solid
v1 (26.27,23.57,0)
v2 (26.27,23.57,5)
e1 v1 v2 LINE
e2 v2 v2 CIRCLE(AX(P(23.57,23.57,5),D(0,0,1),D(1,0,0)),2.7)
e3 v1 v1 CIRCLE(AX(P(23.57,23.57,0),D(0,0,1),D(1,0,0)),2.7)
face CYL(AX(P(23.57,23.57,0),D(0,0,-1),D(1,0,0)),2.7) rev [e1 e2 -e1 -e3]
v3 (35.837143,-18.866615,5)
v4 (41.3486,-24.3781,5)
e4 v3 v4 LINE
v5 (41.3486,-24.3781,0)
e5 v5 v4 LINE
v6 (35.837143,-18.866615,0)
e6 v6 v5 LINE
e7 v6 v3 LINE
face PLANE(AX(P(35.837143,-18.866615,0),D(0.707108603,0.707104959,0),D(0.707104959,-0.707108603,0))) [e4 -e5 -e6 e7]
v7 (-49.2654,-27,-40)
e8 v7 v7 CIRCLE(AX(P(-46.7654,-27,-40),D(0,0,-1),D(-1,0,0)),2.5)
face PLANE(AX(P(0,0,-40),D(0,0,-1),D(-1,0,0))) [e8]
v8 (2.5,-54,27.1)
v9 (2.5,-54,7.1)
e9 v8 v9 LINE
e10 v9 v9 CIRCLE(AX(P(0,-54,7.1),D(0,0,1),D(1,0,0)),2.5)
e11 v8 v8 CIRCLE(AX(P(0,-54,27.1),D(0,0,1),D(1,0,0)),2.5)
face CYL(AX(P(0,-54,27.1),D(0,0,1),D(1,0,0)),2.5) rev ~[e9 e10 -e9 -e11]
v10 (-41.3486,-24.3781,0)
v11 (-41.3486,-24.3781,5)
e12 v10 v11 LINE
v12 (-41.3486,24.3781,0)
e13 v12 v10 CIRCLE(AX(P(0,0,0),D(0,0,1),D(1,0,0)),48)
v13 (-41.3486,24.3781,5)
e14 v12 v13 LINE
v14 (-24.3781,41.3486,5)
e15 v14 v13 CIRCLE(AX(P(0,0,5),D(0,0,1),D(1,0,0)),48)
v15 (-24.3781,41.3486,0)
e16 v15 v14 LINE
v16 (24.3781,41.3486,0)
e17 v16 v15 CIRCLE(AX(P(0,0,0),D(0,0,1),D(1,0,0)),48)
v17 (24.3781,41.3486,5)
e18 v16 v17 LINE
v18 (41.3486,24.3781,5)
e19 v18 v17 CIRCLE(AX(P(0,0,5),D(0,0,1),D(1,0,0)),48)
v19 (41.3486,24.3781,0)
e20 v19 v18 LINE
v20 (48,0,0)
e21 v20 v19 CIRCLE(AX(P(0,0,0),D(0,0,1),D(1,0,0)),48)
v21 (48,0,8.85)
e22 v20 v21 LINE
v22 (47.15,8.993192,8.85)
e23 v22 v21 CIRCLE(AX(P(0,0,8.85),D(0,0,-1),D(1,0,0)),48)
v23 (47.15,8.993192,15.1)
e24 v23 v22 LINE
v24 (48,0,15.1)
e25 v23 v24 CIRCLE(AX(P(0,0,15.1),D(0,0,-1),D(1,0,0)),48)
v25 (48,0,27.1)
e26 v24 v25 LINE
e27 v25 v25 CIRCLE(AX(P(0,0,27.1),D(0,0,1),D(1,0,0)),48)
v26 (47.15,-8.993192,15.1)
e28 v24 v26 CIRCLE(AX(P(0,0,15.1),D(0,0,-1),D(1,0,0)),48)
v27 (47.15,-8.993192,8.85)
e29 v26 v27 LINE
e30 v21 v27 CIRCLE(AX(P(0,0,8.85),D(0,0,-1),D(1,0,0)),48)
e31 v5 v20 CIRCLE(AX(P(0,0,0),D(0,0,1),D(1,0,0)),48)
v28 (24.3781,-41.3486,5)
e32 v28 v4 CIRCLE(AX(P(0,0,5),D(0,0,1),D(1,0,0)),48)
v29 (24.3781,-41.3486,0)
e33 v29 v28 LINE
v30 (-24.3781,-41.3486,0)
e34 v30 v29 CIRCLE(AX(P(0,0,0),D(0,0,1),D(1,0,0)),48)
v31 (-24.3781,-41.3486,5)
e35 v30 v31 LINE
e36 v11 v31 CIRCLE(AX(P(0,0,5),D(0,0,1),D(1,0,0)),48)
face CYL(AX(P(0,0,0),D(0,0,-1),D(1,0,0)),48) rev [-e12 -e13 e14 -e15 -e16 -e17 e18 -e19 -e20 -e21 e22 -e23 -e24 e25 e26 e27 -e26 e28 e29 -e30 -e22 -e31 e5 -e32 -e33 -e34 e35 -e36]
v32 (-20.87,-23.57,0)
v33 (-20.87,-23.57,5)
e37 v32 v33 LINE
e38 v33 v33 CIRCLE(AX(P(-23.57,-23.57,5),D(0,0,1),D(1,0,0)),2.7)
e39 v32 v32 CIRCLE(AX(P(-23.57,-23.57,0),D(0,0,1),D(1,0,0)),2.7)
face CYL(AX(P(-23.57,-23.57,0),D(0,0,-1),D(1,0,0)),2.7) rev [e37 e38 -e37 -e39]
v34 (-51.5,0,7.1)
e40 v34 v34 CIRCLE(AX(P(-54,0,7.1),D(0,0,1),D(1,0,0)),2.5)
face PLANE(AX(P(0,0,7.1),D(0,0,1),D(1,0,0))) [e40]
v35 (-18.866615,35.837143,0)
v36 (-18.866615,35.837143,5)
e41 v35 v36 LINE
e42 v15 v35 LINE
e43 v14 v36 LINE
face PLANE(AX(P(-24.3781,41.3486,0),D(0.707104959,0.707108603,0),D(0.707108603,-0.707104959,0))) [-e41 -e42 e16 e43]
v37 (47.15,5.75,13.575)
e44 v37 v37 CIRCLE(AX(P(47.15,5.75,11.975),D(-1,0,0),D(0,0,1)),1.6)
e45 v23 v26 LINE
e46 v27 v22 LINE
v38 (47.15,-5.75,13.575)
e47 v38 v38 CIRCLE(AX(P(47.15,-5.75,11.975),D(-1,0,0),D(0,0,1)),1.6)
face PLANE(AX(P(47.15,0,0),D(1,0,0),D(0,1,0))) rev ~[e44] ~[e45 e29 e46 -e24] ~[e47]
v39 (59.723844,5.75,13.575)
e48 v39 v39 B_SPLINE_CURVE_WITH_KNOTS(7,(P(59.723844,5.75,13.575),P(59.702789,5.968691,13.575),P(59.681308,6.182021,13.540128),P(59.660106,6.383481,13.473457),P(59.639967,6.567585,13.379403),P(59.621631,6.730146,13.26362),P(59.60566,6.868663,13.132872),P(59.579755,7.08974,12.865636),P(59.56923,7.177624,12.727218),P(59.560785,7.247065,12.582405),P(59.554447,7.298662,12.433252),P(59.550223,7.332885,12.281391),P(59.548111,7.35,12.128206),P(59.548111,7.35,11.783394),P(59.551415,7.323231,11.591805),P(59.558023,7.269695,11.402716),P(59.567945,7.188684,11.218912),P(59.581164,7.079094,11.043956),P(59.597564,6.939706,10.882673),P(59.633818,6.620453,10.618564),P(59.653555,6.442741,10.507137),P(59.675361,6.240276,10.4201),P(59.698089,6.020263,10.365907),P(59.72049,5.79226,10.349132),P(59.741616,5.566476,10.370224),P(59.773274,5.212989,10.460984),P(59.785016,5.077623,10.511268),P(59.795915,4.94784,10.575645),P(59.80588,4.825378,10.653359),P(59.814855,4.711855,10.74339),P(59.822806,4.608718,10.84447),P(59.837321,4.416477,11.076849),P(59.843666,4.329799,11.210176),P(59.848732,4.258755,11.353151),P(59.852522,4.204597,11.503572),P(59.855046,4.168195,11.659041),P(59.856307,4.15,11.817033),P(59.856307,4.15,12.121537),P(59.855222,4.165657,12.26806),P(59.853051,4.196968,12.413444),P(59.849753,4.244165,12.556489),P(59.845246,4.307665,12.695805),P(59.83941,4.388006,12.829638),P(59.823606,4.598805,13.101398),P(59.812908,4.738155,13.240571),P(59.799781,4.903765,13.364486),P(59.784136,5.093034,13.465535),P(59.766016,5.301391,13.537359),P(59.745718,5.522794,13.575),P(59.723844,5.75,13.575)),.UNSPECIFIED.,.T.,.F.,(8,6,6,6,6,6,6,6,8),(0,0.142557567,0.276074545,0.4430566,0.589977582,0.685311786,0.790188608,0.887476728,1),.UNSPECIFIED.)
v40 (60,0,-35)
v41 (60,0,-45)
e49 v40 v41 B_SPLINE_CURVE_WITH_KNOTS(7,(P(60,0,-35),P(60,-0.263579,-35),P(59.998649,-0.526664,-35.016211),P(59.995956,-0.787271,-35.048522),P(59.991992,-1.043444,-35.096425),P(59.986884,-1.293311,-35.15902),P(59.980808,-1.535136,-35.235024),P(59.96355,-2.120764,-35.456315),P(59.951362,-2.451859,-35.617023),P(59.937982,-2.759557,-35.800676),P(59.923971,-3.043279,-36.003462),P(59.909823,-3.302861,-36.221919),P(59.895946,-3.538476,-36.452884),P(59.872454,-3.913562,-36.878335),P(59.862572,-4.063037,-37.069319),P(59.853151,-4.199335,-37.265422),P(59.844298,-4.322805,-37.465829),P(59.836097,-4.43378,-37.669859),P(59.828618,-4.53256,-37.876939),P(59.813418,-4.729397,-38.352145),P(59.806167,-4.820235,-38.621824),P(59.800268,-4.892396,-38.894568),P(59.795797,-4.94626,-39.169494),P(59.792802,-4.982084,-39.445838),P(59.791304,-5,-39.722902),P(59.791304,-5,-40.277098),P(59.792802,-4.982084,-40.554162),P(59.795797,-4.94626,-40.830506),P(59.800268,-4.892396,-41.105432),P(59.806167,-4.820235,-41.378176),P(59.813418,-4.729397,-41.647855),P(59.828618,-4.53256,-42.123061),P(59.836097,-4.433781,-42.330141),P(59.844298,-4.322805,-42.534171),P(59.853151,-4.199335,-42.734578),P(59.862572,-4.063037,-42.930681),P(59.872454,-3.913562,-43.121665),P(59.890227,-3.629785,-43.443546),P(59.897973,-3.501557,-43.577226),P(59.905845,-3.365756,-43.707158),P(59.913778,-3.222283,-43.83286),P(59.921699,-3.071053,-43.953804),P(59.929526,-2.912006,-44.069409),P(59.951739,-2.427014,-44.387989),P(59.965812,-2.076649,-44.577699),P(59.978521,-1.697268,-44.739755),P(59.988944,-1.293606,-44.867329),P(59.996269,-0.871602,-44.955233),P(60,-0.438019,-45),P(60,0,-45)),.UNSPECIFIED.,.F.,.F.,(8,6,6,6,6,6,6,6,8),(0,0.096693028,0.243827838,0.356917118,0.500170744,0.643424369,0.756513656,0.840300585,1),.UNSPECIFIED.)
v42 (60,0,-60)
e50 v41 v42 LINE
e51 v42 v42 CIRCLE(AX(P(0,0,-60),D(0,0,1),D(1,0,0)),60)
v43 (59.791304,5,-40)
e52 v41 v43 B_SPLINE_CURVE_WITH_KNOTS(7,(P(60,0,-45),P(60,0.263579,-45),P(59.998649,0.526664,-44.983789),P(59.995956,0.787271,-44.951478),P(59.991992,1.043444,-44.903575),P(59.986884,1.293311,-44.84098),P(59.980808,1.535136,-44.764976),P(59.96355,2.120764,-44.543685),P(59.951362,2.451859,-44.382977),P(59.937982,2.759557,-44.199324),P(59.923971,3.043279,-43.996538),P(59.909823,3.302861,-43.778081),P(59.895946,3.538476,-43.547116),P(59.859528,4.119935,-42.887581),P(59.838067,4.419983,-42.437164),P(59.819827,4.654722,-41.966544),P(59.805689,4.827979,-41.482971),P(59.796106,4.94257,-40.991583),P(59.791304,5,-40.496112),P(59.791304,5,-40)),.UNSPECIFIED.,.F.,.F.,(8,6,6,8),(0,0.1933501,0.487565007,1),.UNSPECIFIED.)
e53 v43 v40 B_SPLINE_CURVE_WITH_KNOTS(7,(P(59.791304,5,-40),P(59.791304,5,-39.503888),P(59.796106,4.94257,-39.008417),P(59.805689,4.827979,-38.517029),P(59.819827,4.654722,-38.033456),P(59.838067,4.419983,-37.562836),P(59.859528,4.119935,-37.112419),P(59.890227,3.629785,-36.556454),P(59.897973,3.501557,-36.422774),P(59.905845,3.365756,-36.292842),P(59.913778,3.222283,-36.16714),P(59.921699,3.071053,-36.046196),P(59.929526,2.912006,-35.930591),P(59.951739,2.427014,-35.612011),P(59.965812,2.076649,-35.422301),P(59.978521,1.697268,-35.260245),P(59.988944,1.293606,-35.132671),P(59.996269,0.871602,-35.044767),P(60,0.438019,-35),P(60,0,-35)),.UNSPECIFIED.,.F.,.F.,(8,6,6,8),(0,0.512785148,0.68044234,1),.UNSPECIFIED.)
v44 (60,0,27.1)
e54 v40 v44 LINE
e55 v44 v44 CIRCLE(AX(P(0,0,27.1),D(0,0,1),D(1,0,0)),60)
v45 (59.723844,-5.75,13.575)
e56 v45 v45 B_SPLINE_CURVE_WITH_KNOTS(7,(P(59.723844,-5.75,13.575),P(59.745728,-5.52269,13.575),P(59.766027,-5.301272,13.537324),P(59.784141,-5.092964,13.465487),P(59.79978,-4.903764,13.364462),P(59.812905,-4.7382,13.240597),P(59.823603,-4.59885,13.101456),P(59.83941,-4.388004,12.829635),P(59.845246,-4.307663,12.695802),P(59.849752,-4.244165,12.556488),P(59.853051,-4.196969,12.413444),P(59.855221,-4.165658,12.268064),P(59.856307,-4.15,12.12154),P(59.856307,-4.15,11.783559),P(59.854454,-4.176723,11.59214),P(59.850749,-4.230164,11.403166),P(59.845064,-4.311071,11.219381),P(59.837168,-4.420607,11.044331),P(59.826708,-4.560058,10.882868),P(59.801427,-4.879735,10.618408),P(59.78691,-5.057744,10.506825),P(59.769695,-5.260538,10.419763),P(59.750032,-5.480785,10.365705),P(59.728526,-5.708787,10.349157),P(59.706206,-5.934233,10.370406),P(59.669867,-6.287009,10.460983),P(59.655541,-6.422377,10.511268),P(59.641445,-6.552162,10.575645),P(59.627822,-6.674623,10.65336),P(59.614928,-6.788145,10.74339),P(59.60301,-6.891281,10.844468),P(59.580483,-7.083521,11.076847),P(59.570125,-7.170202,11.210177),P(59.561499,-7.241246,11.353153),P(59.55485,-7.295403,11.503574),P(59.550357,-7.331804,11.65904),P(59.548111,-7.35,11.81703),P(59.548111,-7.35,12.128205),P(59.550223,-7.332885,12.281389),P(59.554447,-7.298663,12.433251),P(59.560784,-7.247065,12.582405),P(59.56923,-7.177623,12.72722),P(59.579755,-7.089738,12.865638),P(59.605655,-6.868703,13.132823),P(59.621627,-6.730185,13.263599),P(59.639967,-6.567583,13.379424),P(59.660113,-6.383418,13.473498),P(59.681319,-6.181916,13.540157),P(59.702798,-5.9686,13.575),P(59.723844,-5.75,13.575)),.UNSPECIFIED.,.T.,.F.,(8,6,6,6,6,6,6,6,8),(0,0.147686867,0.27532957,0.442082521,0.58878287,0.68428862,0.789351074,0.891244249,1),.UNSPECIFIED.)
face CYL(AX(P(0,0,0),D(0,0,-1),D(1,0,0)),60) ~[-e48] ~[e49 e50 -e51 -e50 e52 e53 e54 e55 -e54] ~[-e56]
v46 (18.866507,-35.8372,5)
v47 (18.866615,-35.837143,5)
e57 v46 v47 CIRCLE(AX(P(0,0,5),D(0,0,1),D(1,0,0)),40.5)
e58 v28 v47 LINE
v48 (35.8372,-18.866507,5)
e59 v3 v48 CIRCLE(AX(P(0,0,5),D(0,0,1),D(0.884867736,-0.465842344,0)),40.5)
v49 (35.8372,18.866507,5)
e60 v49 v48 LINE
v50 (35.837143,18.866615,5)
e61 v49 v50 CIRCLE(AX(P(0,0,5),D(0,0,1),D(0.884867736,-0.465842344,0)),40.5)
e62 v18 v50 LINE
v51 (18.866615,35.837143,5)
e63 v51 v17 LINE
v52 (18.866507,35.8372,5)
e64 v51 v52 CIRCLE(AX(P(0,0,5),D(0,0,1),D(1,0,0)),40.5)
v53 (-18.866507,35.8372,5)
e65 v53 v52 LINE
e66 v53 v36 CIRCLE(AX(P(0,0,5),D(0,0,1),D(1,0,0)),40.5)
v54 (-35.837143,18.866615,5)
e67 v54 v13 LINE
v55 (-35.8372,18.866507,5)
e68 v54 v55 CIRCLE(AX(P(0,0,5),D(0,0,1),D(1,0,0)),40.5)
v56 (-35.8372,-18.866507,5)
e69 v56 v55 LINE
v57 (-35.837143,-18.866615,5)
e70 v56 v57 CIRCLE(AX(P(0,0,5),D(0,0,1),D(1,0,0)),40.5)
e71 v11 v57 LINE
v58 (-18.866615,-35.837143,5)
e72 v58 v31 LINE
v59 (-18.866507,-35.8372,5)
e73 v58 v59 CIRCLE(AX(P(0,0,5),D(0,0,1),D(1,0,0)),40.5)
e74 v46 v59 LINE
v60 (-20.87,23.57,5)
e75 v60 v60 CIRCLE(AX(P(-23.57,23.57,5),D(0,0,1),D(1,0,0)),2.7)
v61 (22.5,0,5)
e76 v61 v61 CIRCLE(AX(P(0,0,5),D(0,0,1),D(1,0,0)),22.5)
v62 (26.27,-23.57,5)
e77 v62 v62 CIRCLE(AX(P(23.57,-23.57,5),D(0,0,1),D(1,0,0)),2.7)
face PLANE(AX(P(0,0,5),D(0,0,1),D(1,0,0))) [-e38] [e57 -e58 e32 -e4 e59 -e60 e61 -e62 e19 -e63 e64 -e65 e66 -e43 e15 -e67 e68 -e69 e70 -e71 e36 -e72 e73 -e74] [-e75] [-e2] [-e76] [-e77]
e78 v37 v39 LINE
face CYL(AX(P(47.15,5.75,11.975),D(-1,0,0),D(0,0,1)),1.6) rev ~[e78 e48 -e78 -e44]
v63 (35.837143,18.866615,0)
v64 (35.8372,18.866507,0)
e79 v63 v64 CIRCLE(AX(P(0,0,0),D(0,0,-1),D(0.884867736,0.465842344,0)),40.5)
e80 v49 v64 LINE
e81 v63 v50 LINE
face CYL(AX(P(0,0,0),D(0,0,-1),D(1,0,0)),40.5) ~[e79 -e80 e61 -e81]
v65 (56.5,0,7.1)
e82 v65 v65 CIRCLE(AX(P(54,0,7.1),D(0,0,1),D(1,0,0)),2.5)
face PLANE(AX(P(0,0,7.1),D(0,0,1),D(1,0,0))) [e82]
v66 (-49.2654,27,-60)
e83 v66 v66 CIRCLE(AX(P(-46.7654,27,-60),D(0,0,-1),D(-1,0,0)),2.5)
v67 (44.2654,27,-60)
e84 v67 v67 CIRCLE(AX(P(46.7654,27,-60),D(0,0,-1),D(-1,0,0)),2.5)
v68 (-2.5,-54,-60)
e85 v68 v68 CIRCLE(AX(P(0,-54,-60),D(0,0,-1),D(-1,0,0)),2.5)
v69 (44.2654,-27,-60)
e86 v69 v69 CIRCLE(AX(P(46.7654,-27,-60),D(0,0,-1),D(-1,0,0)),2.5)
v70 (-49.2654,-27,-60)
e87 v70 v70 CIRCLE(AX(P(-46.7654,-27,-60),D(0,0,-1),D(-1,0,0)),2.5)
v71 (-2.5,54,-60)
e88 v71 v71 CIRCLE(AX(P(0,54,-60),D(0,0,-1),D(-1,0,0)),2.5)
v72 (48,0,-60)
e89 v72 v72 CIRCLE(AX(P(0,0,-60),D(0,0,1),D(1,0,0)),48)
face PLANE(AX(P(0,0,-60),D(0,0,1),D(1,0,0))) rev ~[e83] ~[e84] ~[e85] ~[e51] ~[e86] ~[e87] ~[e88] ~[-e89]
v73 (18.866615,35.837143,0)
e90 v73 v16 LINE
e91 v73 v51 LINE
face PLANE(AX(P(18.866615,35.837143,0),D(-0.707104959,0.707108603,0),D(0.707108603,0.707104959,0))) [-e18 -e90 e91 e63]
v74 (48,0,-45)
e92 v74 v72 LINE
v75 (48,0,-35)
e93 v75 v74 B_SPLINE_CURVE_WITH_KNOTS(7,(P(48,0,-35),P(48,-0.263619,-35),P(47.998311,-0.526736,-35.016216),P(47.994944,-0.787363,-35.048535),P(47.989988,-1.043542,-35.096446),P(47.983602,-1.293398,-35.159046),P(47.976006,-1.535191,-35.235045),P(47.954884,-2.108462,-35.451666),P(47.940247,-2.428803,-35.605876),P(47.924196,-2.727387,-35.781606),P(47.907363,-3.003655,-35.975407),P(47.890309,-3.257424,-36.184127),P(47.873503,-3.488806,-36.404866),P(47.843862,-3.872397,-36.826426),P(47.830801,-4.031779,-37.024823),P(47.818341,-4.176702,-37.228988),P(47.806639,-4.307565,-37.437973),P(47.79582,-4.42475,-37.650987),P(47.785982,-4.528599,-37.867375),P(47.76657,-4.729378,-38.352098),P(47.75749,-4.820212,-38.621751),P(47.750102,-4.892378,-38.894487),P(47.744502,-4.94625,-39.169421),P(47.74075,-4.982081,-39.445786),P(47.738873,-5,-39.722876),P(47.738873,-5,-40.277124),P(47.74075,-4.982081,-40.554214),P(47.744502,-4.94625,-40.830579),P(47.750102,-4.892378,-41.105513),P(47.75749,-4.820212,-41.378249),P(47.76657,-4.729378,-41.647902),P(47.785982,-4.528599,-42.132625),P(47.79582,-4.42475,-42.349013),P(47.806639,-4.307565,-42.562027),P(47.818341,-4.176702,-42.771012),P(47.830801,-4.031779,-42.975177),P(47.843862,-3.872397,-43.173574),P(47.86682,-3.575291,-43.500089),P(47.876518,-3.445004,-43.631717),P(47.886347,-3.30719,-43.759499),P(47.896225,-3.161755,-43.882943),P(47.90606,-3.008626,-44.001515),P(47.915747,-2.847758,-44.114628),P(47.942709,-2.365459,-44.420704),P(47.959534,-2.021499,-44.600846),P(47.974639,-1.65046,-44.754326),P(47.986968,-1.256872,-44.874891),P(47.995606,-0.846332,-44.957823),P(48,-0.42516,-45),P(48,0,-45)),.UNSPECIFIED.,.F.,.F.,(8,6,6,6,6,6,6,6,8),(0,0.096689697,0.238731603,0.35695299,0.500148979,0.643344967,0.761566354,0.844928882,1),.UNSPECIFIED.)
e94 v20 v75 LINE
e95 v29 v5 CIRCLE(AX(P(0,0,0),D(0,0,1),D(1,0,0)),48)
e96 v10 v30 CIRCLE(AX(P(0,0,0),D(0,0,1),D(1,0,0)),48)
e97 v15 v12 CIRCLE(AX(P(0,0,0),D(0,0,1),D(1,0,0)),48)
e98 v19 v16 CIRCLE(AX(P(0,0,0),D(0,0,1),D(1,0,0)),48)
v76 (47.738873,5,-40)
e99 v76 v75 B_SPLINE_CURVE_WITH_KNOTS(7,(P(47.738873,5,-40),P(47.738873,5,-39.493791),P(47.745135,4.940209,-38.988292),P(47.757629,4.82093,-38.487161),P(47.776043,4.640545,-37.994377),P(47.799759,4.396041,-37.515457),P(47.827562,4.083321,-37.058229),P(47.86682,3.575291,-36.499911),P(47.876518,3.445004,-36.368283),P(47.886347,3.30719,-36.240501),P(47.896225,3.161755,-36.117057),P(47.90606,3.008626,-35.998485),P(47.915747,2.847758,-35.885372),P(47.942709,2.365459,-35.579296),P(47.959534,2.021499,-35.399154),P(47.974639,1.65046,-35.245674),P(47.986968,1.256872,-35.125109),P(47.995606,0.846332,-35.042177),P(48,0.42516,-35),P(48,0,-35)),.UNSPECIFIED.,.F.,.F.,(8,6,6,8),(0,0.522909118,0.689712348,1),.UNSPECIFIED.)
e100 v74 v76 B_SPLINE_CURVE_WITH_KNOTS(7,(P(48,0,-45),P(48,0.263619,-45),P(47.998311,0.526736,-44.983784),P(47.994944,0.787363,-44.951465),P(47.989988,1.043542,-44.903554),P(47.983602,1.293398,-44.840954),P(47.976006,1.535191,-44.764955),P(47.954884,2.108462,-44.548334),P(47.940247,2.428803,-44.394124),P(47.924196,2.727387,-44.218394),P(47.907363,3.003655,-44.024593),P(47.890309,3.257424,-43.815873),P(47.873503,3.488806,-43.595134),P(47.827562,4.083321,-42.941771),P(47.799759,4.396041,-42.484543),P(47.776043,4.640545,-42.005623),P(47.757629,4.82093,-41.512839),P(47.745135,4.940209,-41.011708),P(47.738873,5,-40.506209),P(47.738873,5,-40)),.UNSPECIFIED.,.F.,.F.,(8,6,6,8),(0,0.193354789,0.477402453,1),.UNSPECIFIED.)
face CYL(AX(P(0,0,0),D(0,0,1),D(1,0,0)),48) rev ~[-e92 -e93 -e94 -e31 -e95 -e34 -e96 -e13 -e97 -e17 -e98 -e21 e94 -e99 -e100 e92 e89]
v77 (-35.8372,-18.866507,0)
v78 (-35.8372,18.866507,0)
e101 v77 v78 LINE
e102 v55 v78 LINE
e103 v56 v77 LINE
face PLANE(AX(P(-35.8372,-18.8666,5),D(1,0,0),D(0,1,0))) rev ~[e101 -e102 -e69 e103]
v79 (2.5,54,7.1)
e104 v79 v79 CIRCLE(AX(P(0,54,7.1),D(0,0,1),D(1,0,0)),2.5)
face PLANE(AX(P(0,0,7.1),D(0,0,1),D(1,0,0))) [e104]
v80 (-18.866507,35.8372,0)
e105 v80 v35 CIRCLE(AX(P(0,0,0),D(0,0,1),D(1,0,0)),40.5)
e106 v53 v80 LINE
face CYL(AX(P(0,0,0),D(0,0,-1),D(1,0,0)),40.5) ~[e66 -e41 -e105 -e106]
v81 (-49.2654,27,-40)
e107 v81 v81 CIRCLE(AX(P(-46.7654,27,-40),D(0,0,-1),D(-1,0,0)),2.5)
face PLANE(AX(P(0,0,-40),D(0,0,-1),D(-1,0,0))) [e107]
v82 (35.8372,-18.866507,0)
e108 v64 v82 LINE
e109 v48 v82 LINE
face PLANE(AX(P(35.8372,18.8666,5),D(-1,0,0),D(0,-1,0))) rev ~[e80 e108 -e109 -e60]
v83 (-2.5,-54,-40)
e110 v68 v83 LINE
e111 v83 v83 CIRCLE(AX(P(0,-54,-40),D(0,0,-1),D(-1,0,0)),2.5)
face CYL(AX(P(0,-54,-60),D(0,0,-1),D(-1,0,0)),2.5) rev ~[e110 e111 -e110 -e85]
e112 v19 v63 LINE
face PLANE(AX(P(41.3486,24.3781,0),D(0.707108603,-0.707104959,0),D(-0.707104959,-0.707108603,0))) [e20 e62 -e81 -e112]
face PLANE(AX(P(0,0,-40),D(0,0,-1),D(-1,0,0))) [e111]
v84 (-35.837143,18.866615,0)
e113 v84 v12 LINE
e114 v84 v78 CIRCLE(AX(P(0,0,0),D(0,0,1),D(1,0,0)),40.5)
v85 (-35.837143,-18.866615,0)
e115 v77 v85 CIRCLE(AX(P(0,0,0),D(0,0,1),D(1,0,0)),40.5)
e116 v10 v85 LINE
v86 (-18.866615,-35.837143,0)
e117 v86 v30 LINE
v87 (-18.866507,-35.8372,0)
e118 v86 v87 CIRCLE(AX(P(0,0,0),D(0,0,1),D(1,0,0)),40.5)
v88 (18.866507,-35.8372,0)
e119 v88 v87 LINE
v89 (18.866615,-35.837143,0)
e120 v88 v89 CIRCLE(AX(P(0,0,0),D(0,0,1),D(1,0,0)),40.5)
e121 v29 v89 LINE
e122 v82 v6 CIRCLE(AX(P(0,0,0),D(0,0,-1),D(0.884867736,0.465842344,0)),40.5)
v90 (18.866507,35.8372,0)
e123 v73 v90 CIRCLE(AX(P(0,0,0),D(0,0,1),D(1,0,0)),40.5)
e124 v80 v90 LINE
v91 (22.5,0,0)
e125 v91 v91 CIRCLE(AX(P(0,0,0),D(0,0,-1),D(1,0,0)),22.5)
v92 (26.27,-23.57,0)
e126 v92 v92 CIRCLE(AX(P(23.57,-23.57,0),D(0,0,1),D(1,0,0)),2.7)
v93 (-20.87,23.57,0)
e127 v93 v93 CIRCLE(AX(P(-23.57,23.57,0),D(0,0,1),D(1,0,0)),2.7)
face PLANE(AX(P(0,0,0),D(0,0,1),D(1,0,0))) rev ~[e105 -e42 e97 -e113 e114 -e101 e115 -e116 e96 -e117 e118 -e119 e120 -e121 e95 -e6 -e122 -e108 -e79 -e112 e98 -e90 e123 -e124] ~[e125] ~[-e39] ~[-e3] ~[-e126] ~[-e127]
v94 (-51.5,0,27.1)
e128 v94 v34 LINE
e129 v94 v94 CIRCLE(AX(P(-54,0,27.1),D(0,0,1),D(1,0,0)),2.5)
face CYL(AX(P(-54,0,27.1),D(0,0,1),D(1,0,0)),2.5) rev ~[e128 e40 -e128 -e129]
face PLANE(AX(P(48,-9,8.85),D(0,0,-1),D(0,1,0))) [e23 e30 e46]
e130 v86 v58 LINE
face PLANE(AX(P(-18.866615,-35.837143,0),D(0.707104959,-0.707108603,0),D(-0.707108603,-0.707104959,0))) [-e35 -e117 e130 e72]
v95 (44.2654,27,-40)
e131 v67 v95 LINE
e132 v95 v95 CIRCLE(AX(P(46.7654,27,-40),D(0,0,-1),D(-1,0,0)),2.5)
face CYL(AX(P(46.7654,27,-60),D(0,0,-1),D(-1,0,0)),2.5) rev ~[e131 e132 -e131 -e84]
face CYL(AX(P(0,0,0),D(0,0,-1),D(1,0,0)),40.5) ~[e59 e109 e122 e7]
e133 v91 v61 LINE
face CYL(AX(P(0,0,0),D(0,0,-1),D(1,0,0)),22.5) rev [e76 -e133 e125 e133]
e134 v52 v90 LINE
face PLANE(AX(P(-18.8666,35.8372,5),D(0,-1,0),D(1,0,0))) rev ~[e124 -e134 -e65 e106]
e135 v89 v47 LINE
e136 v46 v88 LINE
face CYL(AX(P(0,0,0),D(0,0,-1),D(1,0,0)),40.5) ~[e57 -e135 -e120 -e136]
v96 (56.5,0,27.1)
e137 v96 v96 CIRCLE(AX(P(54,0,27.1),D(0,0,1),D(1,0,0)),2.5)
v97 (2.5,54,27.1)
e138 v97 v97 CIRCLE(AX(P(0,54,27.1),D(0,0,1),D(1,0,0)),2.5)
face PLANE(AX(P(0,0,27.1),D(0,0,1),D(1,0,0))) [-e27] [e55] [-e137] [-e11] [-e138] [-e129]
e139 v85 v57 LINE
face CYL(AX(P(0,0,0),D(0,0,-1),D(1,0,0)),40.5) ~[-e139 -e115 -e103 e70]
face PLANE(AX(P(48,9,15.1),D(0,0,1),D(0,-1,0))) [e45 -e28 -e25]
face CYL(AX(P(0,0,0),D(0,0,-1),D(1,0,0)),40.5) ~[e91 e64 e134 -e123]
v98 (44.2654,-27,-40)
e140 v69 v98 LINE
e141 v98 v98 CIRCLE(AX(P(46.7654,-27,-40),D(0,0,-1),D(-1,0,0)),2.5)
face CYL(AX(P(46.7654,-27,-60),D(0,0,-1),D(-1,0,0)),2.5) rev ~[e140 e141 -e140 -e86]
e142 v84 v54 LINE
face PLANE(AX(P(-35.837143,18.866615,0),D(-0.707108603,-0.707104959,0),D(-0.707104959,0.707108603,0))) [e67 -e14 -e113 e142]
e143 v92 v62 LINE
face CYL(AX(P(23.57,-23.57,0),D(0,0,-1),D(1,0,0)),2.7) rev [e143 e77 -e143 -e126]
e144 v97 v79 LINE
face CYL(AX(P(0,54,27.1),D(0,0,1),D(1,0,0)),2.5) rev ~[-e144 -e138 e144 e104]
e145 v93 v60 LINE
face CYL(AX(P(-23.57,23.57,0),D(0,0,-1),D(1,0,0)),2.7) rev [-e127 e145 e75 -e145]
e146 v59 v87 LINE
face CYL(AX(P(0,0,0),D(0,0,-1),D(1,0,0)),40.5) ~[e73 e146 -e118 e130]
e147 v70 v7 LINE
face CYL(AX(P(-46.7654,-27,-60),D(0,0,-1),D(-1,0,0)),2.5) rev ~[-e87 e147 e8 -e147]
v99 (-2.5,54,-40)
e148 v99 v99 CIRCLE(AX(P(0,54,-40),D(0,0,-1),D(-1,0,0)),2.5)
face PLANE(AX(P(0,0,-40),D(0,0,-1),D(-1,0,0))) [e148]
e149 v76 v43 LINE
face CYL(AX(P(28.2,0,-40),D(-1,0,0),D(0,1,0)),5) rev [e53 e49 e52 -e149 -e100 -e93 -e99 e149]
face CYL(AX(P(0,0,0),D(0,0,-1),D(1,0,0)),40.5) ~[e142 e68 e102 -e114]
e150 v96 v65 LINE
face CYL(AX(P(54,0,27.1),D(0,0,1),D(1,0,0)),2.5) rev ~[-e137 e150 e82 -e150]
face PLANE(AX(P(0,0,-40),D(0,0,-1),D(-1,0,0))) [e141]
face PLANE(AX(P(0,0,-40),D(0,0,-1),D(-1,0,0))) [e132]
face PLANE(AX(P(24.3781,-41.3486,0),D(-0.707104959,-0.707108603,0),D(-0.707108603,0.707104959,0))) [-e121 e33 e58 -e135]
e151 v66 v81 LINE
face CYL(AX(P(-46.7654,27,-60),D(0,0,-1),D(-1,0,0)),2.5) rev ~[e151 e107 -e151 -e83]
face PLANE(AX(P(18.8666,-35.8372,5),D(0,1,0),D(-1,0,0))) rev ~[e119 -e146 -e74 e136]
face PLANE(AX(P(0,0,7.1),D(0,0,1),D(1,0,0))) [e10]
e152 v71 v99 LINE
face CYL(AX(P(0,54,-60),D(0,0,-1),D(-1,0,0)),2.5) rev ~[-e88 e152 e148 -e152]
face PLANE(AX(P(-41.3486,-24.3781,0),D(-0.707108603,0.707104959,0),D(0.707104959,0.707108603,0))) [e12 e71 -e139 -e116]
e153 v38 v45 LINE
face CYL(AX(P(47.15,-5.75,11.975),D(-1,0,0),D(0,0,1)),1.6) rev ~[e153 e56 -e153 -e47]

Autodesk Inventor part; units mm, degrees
sketch "草圖1" plane through (0, 0, 0) normal (0, 0, 1) x (1, 0, 0)
  circle A0 centre (0, 0) radius 60
  circle A1 centre (0, 0) radius 48
  dimension "d0" = 120
  dimension "d1" = 96
extrude "擠出1" add sketch "草圖1" along normal blind 27.1 and the other way blind 60
sketch "草圖2" plane through (0, 0, 27.1) normal (0, 0, 1) x (1, 0, 0)
  circle A0 centre (0, 0) radius 54 construction
  circle A1 centre (0, 54) radius 2.5
  circle A2 centre (-54, 0) radius 2.5
  circle A3 centre (0, -54) radius 2.5
  circle A4 centre (54, 0) radius 2.5
  dimension "d6" = 108
  dimension "d7" = 5
  dimension "d10" = 360
extrude "擠出2" cut sketch "草圖2" against normal blind 20
ref_plane "工作平面1" through (0, 0, 0) normal (0, 0, 1) x (1, 0, 0)
sketch "草圖3" plane through (0, 0, 0) normal (0, 0, 1) x (1, 0, 0)
  circle A0 centre (-23.57, 23.57) radius 2.3 projected
  circle A1 centre (23.57, 23.57) radius 2.3 projected
  circle A2 centre (23.57, -23.57) radius 2.3 projected
  circle A3 centre (-23.57, -23.57) radius 2.3 projected
  circle A4 centre (-23.57, 23.57) radius 2.7
  circle A5 centre (23.57, 23.57) radius 2.7
  circle A6 centre (23.57, -23.57) radius 2.7
  circle A7 centre (-23.57, -23.57) radius 2.7
  circle A8 centre (0, 0) radius 22.5
  line L0 (-21.9436, 4.973) -> (-41.3486, 24.3781)
  circle A9 centre (0, 0) radius 48 projected
  line L1 (-24.3781, 41.3486) -> (-4.973, 21.9436)
  line L2 (-23.57, 23.57) -> (0, 0) construction
  circle A10 centre (0, 0) radius 40.5
  line L3 (-41.3486, -24.3781) -> (-21.9436, -4.973)
  line L4 (-4.973, -21.9436) -> (-24.3781, -41.3486)
  line L5 (24.3781, -41.3486) -> (4.973, -21.9436)
  line L6 (21.9436, -4.973) -> (41.3486, -24.3781)
  line L7 (41.3486, 24.3781) -> (21.9436, 4.973)
  line L8 (4.973, 21.9436) -> (24.3781, 41.3486)
  point P0 (-18.8666, 35.8372)
  point P1 (-35.8372, 18.8666)
  point P2 (-35.8372, -18.8666)
  point P3 (-24.3781, -41.3486)
  point P4 (-18.8666, -35.8372)
  point P5 (18.8666, -35.8372)
  point P6 (24.3781, -41.3486)
  point P7 (41.3486, -24.3781)
  point P8 (35.8372, -18.8666)
  point P9 (35.8372, 18.8666)
  point P10 (41.3486, 24.3781)
  point P11 (24.3781, 41.3486)
  point P12 (18.8666, 35.8372)
  dimension "d14" = 5.4
  dimension "d15" = 5.4
  dimension "d16" = 5.4
  dimension "d17" = 5.4
  dimension "d18" = 45
  dimension "d19" = 24
  dimension "d20" = 12
  dimension "d21" = 18
  dimension "d24" = 360
extrude "擠出3" add sketch "草圖3" along normal blind 5 contours A8 L7 A10 L6 | A8 L8 A10 L7 | L6 A10 L5 A8 | A8 L1 A10 L8 | A10 L8 A9 L7 | L5 A10 L4 A8 | L6 A9 L5 A10 | A8 L0 A10 L1 | L4 A10 L3 A8 | A8 L3 A10 L0 | A10 L0 A9 L1 | L4 A9 L3 A10
sketch "草圖4" plane through (0, 0, -60) normal (0, 0, -1) x (-1, 0, 0)
  circle A0 centre (0, 0) radius 54 construction
  circle A1 centre (0, -54) radius 2.5
  circle A2 centre (46.7654, -27) radius 2.5
  circle A3 centre (46.7654, 27) radius 2.5
  circle A4 centre (0, 54) radius 2.5
  circle A5 centre (-46.7654, 27) radius 2.5
  circle A6 centre (-46.7654, -27) radius 2.5
  dimension "d29" = 108
  dimension "d32" = 360
  dimension "d62" = 5
extrude "擠出4" cut sketch "草圖4" against normal blind 20
ref_plane "工作平面2" through (28.2, -16.65, -54) normal (1, 0, 0) x (0, 1, 0)
sketch "草圖5" plane through (28.2, -16.65, -54) normal (1, 0, 0) x (0, 1, 0)
  circle A0 centre (16.65, 14) radius 5
  line L0 (-43.35, -6) -> (76.65, -6) projected
  point P0 (16.65, 54)
  dimension "d36" = 10
  dimension "d37" = 20
extrude "擠出5" cut sketch "草圖5" along normal through all
ref_plane "工作平面3" through (48, 0, 0) normal (1, 0, 0) x (0, 1, 0)
sketch "草圖7" plane through (48, 0, 0) normal (1, 0, 0) x (0, 1, 0)
  line L0 (9, 15.1) -> (-9, 15.1)
  line L1 (-9, 15.1) -> (-9, 8.85)
  line L2 (-9, 8.85) -> (9, 8.85)
  line L3 (9, 8.85) -> (9, 15.1)
  line L4 (-48, 27.1) -> (48, 27.1) projected
  point P0 (0, 0)
  dimension "d45" = 18
  dimension "d46" = 9
  dimension "d47" = 6.25
  dimension "d48" = 12
extrude "擠出6" add sketch "草圖7" against normal blind 0.85
sketch "草圖8" plane through (47.15, 0, 0) normal (-1, 0, 0) x (0, 0, 1)
  line L0 (15.1, -8.9932) -> (8.85, -8.9932) projected
  line L1 (15.1, -8.9932) -> (15.1, 8.9932) projected
  line L2 (8.85, 8.9932) -> (15.1, 8.9932) projected
  line L3 (8.85, 8.9932) -> (8.85, -8.9932) projected
  line L4 (15.1, 0) -> (8.85, 0)
  circle A0 centre (11.975, 5.75) radius 1.6
  circle A1 centre (11.975, -5.75) radius 1.6
  point P0 (0, 0)
  point P1 (11.975, 8.9932)
  dimension "d52" = 3.2
  dimension "d53" = 5.75
extrude "擠出7" cut sketch "草圖8" against normal through all contours A0 | A1
sketch "草圖9" plane through (0, 0, 5) normal (0, 0, 1) x (1, 0, 0)
  line L0 (-24.3781, -41.3486) -> (-18.8666, -35.8372) projected
  arc A0 (-18.8666, -35.8372) -> (18.8666, -35.8372) centre (0, 0) ccw projected
  line L1 (18.8666, -35.8372) -> (24.3781, -41.3486) projected
  line L2 (41.3486, -24.3781) -> (35.8372, -18.8666) projected
  arc A1 (35.8372, -18.8666) -> (35.8372, 18.8666) centre (0, 0) ccw projected
  line L3 (35.8372, 18.8666) -> (41.3486, 24.3781) projected
  line L4 (24.3781, 41.3486) -> (18.8666, 35.8372) projected
  arc A2 (18.8666, 35.8372) -> (-18.8666, 35.8372) centre (0, 0) ccw projected
  line L5 (-18.8666, 35.8372) -> (-24.3781, 41.3486) projected
  line L6 (-41.3486, 24.3781) -> (-35.8372, 18.8666) projected
  arc A3 (-35.8372, 18.8666) -> (-35.8372, -18.8666) centre (0, 0) ccw projected
  line L7 (-35.8372, -18.8666) -> (-41.3486, -24.3781) projected
  circle A4 centre (23.57, -23.57) radius 2.7 projected
  circle A5 centre (23.57, 23.57) radius 2.7 projected
  circle A6 centre (-23.57, 23.57) radius 2.7 projected
  circle A7 centre (-23.57, -23.57) radius 2.7 projected
  circle A8 centre (0, 0) radius 22.5 projected
  line L8 (18.8666, -35.8372) -> (-18.8666, -35.8372)
  line L9 (35.8372, 18.8666) -> (35.8372, -18.8666)
  line L10 (-18.8666, 35.8372) -> (18.8666, 35.8372)
  line L11 (-35.8372, -18.8666) -> (-35.8372, 18.8666)
  arc A9 (-24.3781, 41.3486) -> (-41.3486, 24.3781) centre (0, 0) ccw projected
  arc A10 (-41.3486, -24.3781) -> (-24.3781, -41.3486) centre (0, 0) ccw projected
  arc A11 (24.3781, -41.3486) -> (41.3486, -24.3781) centre (0, 0) ccw projected
  arc A12 (41.3486, 24.3781) -> (24.3781, 41.3486) centre (0, 0) ccw projected
  point P0 (35.8372, 18.8666)
  point P1 (-18.8666, 35.8372)
  point P2 (-35.8372, -18.8666)
  dimension "d58" = 360
extrude "擠出8" cut sketch "草圖9" against normal up to surface (5 mm away) contours L8 A0 | A3 L11 | L9 A1 | A2 L10
thread "螺紋1" size "M5x0.8" class "6H" standard "ANSI Metric M Profile" full length
thread "螺紋2" size "M5x0.8" class "6H" standard "ANSI Metric M Profile" full length
thread "螺紋3" size "M5x0.8" class "6H" standard "ANSI Metric M Profile" full length
thread "螺紋4" size "M5x0.8" class "6H" standard "ANSI Metric M Profile" full length
thread "螺紋5" size "M5x0.8" class "6H" standard "ANSI Metric M Profile" full length
thread "螺紋6" size "M5x0.8" class "6H" standard "ANSI Metric M Profile" full length
thread "螺紋7" size "M5x0.8" class "6H" standard "ANSI Metric M Profile" full length
thread "螺紋8" size "M5x0.8" class "6H" standard "ANSI Metric M Profile" full length
thread "螺紋9" size "M5x0.8" class "6H" standard "ANSI Metric M Profile" full length
thread "螺紋10" size "M5x0.8" class "6H" standard "ANSI Metric M Profile" full length
equation "\"d20\" = 0.5 * d19"
equation "\"d46\" = 0.5 * d45"
properties part number "j1 57 mount"
